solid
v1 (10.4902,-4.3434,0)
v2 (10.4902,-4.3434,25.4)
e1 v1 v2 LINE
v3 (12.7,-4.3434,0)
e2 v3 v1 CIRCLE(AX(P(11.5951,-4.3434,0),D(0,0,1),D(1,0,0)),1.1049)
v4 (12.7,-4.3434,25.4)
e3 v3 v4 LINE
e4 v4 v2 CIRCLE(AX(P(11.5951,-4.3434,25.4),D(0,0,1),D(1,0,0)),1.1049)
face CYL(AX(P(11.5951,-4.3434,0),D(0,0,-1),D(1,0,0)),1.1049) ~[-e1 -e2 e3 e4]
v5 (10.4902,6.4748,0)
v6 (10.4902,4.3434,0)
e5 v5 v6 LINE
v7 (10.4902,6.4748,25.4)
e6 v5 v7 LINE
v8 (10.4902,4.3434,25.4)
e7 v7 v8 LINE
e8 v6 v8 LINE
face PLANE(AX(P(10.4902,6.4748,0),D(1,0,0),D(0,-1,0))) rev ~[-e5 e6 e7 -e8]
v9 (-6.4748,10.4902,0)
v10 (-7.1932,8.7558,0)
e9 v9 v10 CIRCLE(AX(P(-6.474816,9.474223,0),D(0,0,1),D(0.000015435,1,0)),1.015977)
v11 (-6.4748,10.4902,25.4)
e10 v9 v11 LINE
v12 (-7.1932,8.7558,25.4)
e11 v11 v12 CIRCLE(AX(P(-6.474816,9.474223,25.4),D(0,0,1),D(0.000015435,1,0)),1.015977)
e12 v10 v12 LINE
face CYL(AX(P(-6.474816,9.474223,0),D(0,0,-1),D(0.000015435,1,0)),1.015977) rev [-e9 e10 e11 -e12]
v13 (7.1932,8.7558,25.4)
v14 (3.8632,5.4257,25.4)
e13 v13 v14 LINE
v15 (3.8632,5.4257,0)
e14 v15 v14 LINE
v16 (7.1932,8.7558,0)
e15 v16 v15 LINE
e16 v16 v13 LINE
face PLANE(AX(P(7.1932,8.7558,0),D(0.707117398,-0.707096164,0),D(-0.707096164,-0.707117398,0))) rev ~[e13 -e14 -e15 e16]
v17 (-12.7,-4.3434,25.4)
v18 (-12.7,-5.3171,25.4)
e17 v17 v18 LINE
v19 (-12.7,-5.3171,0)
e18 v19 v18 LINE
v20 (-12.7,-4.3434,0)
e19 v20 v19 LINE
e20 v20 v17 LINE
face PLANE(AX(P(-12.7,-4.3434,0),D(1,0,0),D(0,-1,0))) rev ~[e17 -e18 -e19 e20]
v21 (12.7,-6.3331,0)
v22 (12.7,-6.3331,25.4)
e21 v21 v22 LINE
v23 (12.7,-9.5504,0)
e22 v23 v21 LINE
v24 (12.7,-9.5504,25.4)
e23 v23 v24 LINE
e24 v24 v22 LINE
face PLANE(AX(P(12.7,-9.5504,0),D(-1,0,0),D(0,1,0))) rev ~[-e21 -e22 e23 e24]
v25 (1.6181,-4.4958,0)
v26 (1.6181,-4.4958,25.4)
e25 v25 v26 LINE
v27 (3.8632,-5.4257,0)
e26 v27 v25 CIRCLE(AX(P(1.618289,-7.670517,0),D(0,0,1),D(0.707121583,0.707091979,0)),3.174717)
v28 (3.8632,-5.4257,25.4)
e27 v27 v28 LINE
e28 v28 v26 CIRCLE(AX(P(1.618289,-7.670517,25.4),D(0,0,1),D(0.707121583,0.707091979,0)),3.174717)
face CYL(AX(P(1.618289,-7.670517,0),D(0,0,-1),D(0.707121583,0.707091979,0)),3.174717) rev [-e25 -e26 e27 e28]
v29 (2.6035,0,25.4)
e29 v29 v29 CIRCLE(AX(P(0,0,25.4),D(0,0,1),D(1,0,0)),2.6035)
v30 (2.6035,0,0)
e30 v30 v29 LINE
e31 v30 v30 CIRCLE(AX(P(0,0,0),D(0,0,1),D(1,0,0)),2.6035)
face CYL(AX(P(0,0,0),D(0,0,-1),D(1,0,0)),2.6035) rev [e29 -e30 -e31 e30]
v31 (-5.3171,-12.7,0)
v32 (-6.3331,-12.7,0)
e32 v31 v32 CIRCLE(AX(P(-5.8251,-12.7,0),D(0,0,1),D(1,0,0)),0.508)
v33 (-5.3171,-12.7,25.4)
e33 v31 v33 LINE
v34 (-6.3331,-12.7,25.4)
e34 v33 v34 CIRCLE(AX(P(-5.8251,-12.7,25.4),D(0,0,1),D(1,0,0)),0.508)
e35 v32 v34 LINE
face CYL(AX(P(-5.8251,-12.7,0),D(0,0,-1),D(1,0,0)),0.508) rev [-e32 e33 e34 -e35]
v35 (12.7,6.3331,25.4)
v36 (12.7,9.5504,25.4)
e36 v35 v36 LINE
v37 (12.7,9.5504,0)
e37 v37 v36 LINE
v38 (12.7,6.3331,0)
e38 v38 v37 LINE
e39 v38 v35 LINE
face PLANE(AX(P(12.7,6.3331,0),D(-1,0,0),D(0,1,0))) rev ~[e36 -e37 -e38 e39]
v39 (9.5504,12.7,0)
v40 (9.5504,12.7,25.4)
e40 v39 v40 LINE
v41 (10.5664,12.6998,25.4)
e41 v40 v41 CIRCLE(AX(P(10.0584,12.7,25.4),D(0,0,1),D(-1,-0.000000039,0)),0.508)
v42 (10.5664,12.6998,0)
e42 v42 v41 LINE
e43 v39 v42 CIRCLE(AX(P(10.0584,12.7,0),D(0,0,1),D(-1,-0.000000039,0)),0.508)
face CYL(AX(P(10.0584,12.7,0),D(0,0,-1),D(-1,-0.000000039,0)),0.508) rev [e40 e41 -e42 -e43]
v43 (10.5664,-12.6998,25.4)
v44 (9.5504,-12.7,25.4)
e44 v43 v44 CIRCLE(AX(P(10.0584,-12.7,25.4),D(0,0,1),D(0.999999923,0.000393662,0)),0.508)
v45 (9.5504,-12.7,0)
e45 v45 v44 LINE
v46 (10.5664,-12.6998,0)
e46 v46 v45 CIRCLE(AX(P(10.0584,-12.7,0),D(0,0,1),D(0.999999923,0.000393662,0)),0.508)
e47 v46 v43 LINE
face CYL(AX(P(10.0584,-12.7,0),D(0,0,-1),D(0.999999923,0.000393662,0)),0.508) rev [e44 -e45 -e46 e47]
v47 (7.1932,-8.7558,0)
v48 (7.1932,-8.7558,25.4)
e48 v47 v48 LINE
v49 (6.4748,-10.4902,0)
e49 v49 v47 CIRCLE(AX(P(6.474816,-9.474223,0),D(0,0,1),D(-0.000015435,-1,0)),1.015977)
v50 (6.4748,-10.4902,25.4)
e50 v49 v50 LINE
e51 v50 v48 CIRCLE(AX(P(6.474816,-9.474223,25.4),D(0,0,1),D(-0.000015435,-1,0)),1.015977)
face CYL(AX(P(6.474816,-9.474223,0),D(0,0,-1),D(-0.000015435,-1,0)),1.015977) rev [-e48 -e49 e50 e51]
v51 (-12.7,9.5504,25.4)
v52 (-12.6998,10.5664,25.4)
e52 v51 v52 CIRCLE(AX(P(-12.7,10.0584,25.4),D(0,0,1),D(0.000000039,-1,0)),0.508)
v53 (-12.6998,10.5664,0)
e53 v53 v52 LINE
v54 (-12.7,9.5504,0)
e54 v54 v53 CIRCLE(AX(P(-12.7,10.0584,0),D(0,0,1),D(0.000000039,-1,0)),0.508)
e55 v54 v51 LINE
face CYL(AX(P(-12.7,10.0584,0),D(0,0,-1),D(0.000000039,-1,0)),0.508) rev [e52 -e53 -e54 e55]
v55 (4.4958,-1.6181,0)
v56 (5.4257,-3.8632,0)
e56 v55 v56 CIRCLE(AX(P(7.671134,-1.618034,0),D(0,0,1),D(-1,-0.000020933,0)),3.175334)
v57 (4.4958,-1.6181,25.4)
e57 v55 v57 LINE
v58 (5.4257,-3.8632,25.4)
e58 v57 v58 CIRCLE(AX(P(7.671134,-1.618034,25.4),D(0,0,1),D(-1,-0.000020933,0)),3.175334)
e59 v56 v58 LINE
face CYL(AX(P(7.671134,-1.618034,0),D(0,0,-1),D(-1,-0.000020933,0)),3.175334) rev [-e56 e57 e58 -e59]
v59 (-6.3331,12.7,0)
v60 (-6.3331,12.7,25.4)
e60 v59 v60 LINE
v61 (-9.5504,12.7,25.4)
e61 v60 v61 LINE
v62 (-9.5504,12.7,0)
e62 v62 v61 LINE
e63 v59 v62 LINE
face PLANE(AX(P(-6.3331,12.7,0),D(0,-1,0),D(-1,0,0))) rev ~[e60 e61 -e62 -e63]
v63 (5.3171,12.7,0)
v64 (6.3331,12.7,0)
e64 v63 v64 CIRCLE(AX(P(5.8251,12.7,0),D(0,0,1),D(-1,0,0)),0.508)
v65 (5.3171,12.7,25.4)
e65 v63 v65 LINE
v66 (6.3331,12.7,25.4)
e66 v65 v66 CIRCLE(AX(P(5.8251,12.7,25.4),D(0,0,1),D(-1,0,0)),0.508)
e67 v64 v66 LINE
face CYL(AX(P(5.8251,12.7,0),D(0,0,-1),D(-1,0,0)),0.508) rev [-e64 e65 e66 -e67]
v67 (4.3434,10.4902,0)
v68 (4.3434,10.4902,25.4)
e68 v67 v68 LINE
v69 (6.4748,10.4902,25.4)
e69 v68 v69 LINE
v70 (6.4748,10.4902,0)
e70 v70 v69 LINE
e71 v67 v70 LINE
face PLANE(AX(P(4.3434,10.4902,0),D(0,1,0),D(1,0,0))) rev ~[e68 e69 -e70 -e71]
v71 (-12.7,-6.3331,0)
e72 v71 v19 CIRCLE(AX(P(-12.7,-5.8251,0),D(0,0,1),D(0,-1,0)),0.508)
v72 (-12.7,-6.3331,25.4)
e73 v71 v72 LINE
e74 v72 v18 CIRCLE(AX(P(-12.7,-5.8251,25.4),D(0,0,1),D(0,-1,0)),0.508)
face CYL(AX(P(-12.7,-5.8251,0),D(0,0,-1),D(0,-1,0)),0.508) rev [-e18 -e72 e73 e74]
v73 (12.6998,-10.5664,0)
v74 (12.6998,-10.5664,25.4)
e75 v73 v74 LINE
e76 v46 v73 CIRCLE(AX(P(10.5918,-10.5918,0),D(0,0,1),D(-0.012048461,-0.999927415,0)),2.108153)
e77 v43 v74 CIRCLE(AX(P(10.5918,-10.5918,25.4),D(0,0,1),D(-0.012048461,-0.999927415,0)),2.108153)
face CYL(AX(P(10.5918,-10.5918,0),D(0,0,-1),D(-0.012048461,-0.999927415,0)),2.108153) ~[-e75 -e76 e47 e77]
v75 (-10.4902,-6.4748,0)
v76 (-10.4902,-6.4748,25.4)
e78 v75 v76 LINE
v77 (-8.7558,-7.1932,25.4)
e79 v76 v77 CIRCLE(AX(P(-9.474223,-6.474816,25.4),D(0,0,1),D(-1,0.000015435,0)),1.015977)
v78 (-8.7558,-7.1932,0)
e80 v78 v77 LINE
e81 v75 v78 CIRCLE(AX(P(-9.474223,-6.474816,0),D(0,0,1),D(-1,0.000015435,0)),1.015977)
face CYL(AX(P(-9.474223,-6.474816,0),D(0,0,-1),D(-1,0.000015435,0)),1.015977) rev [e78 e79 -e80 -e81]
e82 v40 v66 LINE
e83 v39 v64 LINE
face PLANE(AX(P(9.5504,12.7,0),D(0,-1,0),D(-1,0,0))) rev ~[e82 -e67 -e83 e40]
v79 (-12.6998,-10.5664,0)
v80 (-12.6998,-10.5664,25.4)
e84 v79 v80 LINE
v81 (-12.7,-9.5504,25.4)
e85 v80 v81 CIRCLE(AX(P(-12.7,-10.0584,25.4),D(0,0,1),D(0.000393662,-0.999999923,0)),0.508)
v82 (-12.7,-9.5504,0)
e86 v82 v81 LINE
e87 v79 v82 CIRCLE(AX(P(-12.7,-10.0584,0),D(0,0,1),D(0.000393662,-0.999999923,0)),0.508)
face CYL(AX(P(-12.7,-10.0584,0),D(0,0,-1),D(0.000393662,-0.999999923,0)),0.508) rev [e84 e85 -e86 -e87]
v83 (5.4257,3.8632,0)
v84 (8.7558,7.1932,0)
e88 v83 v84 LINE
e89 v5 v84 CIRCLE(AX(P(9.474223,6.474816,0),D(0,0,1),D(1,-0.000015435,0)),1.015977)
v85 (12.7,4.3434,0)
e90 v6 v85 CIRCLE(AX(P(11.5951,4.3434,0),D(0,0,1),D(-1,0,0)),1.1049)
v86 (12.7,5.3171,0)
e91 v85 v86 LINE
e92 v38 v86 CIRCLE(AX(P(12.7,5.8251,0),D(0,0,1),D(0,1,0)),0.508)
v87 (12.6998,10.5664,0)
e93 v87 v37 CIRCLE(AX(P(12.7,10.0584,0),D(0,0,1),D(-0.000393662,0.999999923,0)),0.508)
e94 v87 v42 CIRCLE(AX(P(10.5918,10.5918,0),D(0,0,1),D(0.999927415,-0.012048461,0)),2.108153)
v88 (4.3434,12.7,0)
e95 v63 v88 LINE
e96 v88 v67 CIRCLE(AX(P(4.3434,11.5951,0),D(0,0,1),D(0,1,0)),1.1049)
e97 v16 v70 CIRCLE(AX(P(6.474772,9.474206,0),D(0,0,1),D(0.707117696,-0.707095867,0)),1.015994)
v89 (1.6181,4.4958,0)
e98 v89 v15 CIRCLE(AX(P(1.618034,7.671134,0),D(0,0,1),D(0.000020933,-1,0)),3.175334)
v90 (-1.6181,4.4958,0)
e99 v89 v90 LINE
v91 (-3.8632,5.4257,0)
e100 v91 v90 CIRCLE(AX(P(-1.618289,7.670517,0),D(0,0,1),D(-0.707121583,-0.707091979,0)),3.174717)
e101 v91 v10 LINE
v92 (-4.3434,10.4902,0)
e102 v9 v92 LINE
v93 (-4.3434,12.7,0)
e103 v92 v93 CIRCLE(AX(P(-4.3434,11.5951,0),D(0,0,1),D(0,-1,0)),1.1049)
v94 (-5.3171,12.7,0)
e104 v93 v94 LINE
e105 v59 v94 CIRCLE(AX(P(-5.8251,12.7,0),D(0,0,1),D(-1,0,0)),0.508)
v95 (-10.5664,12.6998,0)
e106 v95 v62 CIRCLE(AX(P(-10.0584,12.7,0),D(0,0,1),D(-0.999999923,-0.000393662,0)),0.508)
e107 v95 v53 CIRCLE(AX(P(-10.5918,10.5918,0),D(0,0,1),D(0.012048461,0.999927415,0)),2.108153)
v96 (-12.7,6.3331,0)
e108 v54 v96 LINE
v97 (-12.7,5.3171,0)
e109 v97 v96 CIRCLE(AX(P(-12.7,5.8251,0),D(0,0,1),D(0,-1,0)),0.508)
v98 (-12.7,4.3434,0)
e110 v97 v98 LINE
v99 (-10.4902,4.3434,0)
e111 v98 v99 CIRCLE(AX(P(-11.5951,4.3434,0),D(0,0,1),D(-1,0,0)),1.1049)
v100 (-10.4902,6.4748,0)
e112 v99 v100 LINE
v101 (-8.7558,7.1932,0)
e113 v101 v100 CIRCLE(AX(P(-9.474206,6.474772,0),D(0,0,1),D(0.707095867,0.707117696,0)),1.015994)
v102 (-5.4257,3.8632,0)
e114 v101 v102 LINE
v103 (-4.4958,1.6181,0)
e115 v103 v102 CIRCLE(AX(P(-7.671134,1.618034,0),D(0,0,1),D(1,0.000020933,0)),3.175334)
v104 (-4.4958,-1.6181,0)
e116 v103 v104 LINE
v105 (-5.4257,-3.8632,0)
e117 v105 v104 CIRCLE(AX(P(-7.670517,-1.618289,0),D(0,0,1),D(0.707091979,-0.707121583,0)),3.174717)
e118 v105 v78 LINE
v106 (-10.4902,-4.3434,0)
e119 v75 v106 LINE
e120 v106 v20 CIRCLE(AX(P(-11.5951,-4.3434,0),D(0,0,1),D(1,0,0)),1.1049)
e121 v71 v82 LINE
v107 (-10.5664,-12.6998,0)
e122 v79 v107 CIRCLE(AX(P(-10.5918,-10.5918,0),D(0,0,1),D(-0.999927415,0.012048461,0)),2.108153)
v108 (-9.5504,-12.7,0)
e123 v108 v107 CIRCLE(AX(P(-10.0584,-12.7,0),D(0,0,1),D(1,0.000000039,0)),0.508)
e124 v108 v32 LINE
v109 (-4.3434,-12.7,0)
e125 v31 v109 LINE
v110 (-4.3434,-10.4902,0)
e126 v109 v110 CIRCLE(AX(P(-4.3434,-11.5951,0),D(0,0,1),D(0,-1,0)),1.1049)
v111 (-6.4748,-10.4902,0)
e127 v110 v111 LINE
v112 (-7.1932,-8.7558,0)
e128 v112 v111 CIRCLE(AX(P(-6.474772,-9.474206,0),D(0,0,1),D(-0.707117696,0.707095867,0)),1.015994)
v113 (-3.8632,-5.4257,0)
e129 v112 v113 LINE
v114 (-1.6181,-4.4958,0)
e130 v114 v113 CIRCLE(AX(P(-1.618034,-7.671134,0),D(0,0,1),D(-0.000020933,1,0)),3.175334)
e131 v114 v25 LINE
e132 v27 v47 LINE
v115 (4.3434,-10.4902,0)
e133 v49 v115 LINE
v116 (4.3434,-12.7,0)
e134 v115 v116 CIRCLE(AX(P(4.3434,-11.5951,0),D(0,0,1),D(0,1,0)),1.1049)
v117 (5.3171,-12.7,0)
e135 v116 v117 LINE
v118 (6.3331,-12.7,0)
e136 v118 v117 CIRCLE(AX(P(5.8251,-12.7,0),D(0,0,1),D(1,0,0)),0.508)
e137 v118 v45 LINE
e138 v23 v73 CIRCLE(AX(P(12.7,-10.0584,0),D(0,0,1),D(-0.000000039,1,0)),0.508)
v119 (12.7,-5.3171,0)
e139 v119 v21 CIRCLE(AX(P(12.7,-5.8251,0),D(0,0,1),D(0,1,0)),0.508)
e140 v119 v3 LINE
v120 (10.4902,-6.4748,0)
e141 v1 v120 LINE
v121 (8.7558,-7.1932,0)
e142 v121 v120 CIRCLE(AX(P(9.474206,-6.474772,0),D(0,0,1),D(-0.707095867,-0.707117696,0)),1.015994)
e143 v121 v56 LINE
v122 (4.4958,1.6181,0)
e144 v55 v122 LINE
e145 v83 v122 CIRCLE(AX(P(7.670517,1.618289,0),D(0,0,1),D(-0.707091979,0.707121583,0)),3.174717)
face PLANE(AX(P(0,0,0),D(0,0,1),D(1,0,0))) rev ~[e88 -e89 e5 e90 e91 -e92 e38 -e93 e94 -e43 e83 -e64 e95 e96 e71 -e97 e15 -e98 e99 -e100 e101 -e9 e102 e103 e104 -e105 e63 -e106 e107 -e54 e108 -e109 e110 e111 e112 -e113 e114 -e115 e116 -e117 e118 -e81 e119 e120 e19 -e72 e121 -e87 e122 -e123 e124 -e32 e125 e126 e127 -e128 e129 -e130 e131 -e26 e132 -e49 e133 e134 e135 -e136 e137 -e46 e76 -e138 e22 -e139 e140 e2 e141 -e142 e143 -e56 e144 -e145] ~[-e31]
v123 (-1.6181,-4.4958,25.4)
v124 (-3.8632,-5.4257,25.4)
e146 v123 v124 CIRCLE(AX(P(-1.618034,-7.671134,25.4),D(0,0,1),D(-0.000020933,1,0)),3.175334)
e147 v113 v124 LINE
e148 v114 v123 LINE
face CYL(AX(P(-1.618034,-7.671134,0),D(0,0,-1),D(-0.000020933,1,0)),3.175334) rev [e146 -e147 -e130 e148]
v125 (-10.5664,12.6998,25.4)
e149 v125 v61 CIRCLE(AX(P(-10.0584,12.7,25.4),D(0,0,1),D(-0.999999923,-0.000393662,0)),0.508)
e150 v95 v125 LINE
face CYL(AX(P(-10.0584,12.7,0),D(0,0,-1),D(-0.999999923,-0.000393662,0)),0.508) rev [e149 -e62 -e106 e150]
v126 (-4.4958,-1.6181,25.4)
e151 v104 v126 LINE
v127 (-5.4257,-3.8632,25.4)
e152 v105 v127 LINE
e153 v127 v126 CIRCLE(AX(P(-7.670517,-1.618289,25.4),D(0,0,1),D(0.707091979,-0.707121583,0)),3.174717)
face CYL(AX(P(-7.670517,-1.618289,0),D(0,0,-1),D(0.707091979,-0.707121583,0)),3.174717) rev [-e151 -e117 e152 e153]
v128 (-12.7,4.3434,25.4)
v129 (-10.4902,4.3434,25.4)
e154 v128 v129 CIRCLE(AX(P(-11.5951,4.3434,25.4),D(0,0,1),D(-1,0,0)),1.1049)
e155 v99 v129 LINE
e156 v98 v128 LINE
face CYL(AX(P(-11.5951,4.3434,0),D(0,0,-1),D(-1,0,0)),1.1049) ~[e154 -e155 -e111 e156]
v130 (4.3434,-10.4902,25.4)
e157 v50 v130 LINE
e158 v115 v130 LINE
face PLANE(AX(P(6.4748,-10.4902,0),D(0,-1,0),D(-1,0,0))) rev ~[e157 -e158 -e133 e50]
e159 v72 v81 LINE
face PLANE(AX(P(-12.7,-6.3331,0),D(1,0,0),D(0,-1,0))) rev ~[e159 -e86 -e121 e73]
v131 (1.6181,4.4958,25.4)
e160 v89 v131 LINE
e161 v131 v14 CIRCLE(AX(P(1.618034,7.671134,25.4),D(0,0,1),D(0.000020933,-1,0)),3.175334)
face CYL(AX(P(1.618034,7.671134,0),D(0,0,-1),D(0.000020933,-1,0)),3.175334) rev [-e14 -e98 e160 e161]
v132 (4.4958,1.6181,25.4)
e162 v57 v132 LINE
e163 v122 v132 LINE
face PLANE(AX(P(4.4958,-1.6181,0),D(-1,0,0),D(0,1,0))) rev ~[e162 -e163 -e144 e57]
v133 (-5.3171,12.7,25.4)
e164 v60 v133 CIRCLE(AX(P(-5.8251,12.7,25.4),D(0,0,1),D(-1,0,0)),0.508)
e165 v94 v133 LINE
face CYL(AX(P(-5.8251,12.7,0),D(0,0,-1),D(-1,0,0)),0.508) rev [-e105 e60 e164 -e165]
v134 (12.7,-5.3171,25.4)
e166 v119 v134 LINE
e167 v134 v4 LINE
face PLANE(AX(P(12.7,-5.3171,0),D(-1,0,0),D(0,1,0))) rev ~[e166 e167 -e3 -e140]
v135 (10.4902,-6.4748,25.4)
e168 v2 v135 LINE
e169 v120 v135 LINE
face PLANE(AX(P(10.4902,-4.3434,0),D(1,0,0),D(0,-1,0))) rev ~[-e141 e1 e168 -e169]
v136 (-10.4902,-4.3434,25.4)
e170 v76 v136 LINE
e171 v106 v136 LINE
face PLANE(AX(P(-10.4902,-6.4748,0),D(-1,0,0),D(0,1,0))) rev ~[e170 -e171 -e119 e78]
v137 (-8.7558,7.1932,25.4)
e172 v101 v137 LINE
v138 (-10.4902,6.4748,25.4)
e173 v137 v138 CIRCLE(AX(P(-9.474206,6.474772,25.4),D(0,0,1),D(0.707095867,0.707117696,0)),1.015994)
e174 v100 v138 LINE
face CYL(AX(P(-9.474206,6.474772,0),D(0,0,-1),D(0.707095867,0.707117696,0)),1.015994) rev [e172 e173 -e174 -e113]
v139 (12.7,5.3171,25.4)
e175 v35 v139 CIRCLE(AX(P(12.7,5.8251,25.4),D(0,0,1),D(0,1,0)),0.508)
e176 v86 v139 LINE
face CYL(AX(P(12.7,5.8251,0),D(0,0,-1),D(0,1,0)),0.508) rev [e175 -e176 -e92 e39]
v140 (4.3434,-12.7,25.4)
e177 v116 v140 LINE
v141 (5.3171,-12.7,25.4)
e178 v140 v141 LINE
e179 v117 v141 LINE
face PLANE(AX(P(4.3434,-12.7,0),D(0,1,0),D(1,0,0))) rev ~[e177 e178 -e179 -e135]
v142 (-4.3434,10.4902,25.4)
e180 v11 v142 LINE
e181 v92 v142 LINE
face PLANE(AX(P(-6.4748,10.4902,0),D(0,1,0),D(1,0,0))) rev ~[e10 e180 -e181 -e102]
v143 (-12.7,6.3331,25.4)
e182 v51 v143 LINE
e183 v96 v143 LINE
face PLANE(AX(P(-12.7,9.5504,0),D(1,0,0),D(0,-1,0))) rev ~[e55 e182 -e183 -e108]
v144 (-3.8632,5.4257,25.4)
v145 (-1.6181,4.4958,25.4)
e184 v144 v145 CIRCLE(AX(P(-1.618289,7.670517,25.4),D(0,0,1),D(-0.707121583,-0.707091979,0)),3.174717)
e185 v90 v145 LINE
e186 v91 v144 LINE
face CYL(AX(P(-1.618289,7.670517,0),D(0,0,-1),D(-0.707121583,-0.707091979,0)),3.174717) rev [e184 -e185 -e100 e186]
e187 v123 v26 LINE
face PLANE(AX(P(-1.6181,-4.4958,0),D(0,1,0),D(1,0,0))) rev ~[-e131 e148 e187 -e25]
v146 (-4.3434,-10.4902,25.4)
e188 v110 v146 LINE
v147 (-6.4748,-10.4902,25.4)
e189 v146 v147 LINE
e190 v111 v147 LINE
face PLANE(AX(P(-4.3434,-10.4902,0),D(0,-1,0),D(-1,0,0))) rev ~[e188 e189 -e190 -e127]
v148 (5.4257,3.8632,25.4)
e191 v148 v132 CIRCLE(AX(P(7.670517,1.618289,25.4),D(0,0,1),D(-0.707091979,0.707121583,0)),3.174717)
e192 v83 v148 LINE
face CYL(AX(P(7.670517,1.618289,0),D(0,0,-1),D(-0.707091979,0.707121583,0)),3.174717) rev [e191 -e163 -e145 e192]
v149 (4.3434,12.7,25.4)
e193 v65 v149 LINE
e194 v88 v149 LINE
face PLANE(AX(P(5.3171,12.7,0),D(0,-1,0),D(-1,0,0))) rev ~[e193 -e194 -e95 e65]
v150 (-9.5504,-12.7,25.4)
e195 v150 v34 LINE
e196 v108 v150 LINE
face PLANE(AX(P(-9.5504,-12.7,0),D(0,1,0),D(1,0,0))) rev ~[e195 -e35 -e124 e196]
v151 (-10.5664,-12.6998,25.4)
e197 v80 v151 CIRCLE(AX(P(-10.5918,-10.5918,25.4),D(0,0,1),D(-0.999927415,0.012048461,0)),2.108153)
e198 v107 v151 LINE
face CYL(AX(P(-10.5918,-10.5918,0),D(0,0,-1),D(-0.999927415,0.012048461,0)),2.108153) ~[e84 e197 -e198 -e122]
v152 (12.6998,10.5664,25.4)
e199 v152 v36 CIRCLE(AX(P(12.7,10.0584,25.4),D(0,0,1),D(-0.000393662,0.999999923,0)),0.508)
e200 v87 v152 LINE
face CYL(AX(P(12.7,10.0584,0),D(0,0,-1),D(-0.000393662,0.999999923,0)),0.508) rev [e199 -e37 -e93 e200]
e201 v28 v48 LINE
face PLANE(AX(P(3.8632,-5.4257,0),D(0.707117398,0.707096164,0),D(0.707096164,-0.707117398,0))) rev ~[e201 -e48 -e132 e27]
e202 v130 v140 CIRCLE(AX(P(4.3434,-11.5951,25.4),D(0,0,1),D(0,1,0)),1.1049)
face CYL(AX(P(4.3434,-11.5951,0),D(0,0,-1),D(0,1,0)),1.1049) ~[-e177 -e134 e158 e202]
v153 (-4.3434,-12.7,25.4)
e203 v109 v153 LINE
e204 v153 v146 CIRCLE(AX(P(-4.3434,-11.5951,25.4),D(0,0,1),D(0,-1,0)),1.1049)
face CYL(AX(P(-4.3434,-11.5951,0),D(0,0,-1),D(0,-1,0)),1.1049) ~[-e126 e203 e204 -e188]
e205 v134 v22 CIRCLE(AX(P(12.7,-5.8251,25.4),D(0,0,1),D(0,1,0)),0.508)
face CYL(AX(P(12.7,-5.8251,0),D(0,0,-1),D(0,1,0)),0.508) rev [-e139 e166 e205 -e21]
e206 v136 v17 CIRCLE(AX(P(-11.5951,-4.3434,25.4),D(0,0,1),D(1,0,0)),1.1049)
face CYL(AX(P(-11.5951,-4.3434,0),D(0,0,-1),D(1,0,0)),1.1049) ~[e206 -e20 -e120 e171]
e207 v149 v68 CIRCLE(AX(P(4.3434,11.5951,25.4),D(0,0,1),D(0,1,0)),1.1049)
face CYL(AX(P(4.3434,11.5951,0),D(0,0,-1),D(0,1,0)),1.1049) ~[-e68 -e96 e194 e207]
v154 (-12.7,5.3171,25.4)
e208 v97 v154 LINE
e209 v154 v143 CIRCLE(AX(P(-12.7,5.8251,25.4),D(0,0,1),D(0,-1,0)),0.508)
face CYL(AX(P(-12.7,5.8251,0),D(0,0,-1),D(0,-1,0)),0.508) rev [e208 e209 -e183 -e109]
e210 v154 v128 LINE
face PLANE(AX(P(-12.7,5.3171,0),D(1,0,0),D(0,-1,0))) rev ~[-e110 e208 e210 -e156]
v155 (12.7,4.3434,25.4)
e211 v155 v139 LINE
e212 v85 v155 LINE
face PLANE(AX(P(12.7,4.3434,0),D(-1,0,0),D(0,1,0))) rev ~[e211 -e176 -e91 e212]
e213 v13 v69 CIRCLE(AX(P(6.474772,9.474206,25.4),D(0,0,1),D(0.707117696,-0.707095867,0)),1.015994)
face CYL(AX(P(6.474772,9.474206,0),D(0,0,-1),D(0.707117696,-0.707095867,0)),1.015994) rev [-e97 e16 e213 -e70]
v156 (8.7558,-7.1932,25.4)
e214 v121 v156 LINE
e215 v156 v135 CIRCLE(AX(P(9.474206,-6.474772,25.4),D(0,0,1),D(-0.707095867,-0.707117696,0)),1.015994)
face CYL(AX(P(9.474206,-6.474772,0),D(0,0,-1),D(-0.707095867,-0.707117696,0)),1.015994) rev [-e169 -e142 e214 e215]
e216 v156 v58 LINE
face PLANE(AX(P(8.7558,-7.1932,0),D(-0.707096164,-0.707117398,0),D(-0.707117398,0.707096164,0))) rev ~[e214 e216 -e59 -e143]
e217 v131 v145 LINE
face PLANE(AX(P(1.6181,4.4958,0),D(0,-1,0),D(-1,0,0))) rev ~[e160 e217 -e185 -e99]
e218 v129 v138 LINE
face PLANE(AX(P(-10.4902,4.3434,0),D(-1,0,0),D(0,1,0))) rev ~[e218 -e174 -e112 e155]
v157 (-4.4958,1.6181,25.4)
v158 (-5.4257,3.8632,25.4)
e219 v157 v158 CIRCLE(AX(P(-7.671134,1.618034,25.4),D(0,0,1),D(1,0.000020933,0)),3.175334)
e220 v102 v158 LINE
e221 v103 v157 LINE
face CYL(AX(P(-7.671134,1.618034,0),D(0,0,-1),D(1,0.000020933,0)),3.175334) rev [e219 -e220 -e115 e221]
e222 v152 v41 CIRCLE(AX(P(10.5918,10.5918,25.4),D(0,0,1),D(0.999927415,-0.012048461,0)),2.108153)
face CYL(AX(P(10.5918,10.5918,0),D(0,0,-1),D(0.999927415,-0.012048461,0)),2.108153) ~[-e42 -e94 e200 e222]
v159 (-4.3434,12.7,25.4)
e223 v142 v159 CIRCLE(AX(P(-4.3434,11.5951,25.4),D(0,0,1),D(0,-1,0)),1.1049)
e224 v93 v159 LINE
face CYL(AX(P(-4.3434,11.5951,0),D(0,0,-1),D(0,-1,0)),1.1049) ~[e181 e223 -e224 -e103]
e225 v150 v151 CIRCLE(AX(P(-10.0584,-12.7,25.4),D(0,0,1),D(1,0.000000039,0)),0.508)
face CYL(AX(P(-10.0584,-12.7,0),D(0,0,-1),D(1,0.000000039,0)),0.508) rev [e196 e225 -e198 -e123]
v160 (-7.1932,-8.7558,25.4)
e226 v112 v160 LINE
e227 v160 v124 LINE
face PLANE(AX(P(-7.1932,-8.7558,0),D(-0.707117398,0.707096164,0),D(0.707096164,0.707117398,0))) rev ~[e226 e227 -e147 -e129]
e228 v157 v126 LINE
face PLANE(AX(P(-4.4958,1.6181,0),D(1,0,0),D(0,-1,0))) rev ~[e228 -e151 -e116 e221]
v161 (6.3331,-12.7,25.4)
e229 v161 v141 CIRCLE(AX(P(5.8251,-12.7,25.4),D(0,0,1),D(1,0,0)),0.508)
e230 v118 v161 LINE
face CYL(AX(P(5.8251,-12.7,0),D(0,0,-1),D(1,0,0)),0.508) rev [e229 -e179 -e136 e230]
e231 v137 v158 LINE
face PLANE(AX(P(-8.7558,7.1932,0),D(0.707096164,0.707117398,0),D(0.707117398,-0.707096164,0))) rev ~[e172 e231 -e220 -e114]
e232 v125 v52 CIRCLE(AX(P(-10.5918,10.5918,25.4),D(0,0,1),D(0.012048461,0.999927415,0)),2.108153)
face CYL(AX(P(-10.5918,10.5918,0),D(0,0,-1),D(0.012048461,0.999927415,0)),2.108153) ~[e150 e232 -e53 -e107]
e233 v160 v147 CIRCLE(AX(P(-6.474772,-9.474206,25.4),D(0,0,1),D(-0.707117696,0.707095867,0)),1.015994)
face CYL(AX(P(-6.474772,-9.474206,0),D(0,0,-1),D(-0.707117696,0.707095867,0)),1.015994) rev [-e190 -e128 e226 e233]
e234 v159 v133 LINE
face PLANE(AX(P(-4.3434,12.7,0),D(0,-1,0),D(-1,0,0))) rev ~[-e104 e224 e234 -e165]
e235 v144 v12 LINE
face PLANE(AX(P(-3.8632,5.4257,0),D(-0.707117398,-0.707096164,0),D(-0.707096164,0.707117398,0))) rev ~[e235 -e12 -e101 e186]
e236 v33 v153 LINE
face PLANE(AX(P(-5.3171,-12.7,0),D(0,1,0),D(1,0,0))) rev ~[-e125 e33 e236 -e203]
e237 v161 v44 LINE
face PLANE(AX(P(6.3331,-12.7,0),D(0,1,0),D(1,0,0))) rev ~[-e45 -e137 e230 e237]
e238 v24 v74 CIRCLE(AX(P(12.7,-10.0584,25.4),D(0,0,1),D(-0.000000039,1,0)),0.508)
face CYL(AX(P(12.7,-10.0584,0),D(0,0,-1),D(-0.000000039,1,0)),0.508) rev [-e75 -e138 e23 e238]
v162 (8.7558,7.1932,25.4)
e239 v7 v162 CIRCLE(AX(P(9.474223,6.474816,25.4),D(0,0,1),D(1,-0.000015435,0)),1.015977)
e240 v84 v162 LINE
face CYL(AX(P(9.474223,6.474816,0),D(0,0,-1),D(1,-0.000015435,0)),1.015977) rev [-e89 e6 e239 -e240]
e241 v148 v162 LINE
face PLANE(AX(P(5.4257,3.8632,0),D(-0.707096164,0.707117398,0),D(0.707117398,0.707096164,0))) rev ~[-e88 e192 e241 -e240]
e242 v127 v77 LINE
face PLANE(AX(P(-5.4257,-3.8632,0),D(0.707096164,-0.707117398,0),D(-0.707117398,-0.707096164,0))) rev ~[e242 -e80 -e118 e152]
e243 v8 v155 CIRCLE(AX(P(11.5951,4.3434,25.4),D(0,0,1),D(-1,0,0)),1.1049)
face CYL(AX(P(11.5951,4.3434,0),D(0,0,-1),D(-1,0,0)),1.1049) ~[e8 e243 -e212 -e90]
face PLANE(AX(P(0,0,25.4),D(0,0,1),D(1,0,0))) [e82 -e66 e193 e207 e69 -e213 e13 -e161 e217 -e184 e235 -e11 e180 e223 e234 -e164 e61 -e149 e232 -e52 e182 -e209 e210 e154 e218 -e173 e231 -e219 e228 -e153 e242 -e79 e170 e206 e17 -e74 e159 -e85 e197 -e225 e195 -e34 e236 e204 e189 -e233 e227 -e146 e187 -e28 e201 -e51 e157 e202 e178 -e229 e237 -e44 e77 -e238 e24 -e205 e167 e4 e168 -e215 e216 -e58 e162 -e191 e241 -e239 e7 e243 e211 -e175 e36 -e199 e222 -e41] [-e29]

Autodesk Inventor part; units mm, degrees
ref_plane "YZ Plane" through (0, 0, 0) normal (1, 0, 0) x (0, 1, 0)
ref_plane "XZ Plane" through (0, 0, 0) normal (0, 1, 0) x (-1, 0, 0)
ref_plane "XY Plane" through (0, 0, 0) normal (0, 0, 1) x (1, 0, 0)
sketch "Sketch1" plane through (0, 0, 0) normal (0, 0, 1) x (1, 0, 0)
  arc A0 (-12.6998, -10.5664) -> (-10.5664, -12.6998) centre (-10.5918, -10.5918) ccw
  arc A1 (-9.5504, -12.7) -> (-10.5664, -12.6998) centre (-10.0584, -12.7) ccw
  line L0 (-9.5504, -12.7) -> (-6.3331, -12.7)
  arc A2 (-5.3171, -12.7) -> (-6.3331, -12.7) centre (-5.8251, -12.7) ccw
  line L1 (-5.3171, -12.7) -> (-4.3434, -12.7)
  arc A3 (-4.3434, -12.7) -> (-4.3434, -10.4902) centre (-4.3434, -11.5951) ccw
  line L2 (-4.3434, -10.4902) -> (-6.4748, -10.4902)
  arc A4 (-7.1932, -8.7558) -> (-6.4748, -10.4902) centre (-6.4748, -9.4742) ccw
  line L3 (-7.1932, -8.7558) -> (-3.8632, -5.4257)
  arc A5 (-1.6181, -4.4958) -> (-3.8632, -5.4257) centre (-1.6181, -7.6708) ccw
  line L4 (-1.6181, -4.4958) -> (1.6181, -4.4958)
  arc A6 (3.8632, -5.4257) -> (1.6181, -4.4958) centre (1.6181, -7.6708) ccw
  line L5 (3.8632, -5.4257) -> (7.1932, -8.7558)
  arc A7 (6.4748, -10.4902) -> (7.1932, -8.7558) centre (6.4748, -9.4742) ccw
  line L6 (6.4748, -10.4902) -> (4.3434, -10.4902)
  arc A8 (4.3434, -10.4902) -> (4.3434, -12.7) centre (4.3434, -11.5951) ccw
  line L7 (4.3434, -12.7) -> (5.3171, -12.7)
  arc A9 (6.3331, -12.7) -> (5.3171, -12.7) centre (5.8251, -12.7) ccw
  line L8 (6.3331, -12.7) -> (9.5504, -12.7)
  arc A10 (10.5664, -12.6998) -> (9.5504, -12.7) centre (10.0584, -12.7) ccw
  arc A11 (10.5664, -12.6998) -> (12.6998, -10.5664) centre (10.5918, -10.5918) ccw
  arc A12 (12.7, -9.5504) -> (12.6998, -10.5664) centre (12.7, -10.0584) ccw
  line L9 (12.7, -9.5504) -> (12.7, -6.3331)
  arc A13 (12.7, -5.3171) -> (12.7, -6.3331) centre (12.7, -5.8251) ccw
  line L10 (12.7, -5.3171) -> (12.7, -4.3434)
  arc A14 (12.7, -4.3434) -> (10.4902, -4.3434) centre (11.5951, -4.3434) ccw
  line L11 (10.4902, -4.3434) -> (10.4902, -6.4748)
  arc A15 (8.7558, -7.1932) -> (10.4902, -6.4748) centre (9.4742, -6.4748) ccw
  line L12 (8.7558, -7.1932) -> (5.4257, -3.8632)
  arc A16 (4.4958, -1.6181) -> (5.4257, -3.8632) centre (7.6708, -1.6181) ccw
  line L13 (4.4958, -1.6181) -> (4.4958, 1.6181)
  arc A17 (5.4257, 3.8632) -> (4.4958, 1.6181) centre (7.6708, 1.6181) ccw
  line L14 (5.4257, 3.8632) -> (8.7558, 7.1932)
  arc A18 (10.4902, 6.4748) -> (8.7558, 7.1932) centre (9.4742, 6.4748) ccw
  line L15 (10.4902, 6.4748) -> (10.4902, 4.3434)
  arc A19 (10.4902, 4.3434) -> (12.7, 4.3434) centre (11.5951, 4.3434) ccw
  line L16 (12.7, 4.3434) -> (12.7, 5.3171)
  arc A20 (12.7, 6.3331) -> (12.7, 5.3171) centre (12.7, 5.8251) ccw
  line L17 (12.7, 6.3331) -> (12.7, 9.5504)
  arc A21 (12.6998, 10.5664) -> (12.7, 9.5504) centre (12.7, 10.0584) ccw
  arc A22 (12.6998, 10.5664) -> (10.5664, 12.6998) centre (10.5918, 10.5918) ccw
  arc A23 (9.5504, 12.7) -> (10.5664, 12.6998) centre (10.0584, 12.7) ccw
  line L18 (9.5504, 12.7) -> (6.3331, 12.7)
  arc A24 (5.3171, 12.7) -> (6.3331, 12.7) centre (5.8251, 12.7) ccw
  line L19 (5.3171, 12.7) -> (4.3434, 12.7)
  arc A25 (4.3434, 12.7) -> (4.3434, 10.4902) centre (4.3434, 11.5951) ccw
  line L20 (4.3434, 10.4902) -> (6.4748, 10.4902)
  arc A26 (7.1932, 8.7558) -> (6.4748, 10.4902) centre (6.4748, 9.4742) ccw
  line L21 (7.1932, 8.7558) -> (3.8632, 5.4257)
  arc A27 (1.6181, 4.4958) -> (3.8632, 5.4257) centre (1.6181, 7.6708) ccw
  line L22 (1.6181, 4.4958) -> (-1.6181, 4.4958)
  arc A28 (-3.8632, 5.4257) -> (-1.6181, 4.4958) centre (-1.6181, 7.6708) ccw
  line L23 (-3.8632, 5.4257) -> (-7.1932, 8.7558)
  arc A29 (-6.4748, 10.4902) -> (-7.1932, 8.7558) centre (-6.4748, 9.4742) ccw
  line L24 (-6.4748, 10.4902) -> (-4.3434, 10.4902)
  arc A30 (-4.3434, 10.4902) -> (-4.3434, 12.7) centre (-4.3434, 11.5951) ccw
  line L25 (-4.3434, 12.7) -> (-5.3171, 12.7)
  arc A31 (-6.3331, 12.7) -> (-5.3171, 12.7) centre (-5.8251, 12.7) ccw
  line L26 (-6.3331, 12.7) -> (-9.5504, 12.7)
  arc A32 (-10.5664, 12.6998) -> (-9.5504, 12.7) centre (-10.0584, 12.7) ccw
  arc A33 (-10.5664, 12.6998) -> (-12.6998, 10.5664) centre (-10.5918, 10.5918) ccw
  arc A34 (-12.7, 9.5504) -> (-12.6998, 10.5664) centre (-12.7, 10.0584) ccw
  line L27 (-12.7, 9.5504) -> (-12.7, 6.3331)
  arc A35 (-12.7, 5.3171) -> (-12.7, 6.3331) centre (-12.7, 5.8251) ccw
  line L28 (-12.7, 5.3171) -> (-12.7, 4.3434)
  arc A36 (-12.7, 4.3434) -> (-10.4902, 4.3434) centre (-11.5951, 4.3434) ccw
  line L29 (-10.4902, 4.3434) -> (-10.4902, 6.4748)
  arc A37 (-8.7558, 7.1932) -> (-10.4902, 6.4748) centre (-9.4742, 6.4748) ccw
  line L30 (-8.7558, 7.1932) -> (-5.4257, 3.8632)
  arc A38 (-4.4958, 1.6181) -> (-5.4257, 3.8632) centre (-7.6708, 1.6181) ccw
  line L31 (-4.4958, 1.6181) -> (-4.4958, -1.6181)
  arc A39 (-5.4257, -3.8632) -> (-4.4958, -1.6181) centre (-7.6708, -1.6181) ccw
  line L32 (-5.4257, -3.8632) -> (-8.7558, -7.1932)
  arc A40 (-10.4902, -6.4748) -> (-8.7558, -7.1932) centre (-9.4742, -6.4748) ccw
  line L33 (-10.4902, -6.4748) -> (-10.4902, -4.3434)
  arc A41 (-10.4902, -4.3434) -> (-12.7, -4.3434) centre (-11.5951, -4.3434) ccw
  line L34 (-12.7, -4.3434) -> (-12.7, -5.3171)
  arc A42 (-12.7, -6.3331) -> (-12.7, -5.3171) centre (-12.7, -5.8251) ccw
  line L35 (-12.7, -6.3331) -> (-12.7, -9.5504)
  arc A43 (-12.6998, -10.5664) -> (-12.7, -9.5504) centre (-12.7, -10.0584) ccw
  circle A44 centre (0, 0) radius 2.6035
extrude "Extrusion1" add sketch "Sketch1" along normal blind 25.4
properties part number "1010-3.125-CL"
